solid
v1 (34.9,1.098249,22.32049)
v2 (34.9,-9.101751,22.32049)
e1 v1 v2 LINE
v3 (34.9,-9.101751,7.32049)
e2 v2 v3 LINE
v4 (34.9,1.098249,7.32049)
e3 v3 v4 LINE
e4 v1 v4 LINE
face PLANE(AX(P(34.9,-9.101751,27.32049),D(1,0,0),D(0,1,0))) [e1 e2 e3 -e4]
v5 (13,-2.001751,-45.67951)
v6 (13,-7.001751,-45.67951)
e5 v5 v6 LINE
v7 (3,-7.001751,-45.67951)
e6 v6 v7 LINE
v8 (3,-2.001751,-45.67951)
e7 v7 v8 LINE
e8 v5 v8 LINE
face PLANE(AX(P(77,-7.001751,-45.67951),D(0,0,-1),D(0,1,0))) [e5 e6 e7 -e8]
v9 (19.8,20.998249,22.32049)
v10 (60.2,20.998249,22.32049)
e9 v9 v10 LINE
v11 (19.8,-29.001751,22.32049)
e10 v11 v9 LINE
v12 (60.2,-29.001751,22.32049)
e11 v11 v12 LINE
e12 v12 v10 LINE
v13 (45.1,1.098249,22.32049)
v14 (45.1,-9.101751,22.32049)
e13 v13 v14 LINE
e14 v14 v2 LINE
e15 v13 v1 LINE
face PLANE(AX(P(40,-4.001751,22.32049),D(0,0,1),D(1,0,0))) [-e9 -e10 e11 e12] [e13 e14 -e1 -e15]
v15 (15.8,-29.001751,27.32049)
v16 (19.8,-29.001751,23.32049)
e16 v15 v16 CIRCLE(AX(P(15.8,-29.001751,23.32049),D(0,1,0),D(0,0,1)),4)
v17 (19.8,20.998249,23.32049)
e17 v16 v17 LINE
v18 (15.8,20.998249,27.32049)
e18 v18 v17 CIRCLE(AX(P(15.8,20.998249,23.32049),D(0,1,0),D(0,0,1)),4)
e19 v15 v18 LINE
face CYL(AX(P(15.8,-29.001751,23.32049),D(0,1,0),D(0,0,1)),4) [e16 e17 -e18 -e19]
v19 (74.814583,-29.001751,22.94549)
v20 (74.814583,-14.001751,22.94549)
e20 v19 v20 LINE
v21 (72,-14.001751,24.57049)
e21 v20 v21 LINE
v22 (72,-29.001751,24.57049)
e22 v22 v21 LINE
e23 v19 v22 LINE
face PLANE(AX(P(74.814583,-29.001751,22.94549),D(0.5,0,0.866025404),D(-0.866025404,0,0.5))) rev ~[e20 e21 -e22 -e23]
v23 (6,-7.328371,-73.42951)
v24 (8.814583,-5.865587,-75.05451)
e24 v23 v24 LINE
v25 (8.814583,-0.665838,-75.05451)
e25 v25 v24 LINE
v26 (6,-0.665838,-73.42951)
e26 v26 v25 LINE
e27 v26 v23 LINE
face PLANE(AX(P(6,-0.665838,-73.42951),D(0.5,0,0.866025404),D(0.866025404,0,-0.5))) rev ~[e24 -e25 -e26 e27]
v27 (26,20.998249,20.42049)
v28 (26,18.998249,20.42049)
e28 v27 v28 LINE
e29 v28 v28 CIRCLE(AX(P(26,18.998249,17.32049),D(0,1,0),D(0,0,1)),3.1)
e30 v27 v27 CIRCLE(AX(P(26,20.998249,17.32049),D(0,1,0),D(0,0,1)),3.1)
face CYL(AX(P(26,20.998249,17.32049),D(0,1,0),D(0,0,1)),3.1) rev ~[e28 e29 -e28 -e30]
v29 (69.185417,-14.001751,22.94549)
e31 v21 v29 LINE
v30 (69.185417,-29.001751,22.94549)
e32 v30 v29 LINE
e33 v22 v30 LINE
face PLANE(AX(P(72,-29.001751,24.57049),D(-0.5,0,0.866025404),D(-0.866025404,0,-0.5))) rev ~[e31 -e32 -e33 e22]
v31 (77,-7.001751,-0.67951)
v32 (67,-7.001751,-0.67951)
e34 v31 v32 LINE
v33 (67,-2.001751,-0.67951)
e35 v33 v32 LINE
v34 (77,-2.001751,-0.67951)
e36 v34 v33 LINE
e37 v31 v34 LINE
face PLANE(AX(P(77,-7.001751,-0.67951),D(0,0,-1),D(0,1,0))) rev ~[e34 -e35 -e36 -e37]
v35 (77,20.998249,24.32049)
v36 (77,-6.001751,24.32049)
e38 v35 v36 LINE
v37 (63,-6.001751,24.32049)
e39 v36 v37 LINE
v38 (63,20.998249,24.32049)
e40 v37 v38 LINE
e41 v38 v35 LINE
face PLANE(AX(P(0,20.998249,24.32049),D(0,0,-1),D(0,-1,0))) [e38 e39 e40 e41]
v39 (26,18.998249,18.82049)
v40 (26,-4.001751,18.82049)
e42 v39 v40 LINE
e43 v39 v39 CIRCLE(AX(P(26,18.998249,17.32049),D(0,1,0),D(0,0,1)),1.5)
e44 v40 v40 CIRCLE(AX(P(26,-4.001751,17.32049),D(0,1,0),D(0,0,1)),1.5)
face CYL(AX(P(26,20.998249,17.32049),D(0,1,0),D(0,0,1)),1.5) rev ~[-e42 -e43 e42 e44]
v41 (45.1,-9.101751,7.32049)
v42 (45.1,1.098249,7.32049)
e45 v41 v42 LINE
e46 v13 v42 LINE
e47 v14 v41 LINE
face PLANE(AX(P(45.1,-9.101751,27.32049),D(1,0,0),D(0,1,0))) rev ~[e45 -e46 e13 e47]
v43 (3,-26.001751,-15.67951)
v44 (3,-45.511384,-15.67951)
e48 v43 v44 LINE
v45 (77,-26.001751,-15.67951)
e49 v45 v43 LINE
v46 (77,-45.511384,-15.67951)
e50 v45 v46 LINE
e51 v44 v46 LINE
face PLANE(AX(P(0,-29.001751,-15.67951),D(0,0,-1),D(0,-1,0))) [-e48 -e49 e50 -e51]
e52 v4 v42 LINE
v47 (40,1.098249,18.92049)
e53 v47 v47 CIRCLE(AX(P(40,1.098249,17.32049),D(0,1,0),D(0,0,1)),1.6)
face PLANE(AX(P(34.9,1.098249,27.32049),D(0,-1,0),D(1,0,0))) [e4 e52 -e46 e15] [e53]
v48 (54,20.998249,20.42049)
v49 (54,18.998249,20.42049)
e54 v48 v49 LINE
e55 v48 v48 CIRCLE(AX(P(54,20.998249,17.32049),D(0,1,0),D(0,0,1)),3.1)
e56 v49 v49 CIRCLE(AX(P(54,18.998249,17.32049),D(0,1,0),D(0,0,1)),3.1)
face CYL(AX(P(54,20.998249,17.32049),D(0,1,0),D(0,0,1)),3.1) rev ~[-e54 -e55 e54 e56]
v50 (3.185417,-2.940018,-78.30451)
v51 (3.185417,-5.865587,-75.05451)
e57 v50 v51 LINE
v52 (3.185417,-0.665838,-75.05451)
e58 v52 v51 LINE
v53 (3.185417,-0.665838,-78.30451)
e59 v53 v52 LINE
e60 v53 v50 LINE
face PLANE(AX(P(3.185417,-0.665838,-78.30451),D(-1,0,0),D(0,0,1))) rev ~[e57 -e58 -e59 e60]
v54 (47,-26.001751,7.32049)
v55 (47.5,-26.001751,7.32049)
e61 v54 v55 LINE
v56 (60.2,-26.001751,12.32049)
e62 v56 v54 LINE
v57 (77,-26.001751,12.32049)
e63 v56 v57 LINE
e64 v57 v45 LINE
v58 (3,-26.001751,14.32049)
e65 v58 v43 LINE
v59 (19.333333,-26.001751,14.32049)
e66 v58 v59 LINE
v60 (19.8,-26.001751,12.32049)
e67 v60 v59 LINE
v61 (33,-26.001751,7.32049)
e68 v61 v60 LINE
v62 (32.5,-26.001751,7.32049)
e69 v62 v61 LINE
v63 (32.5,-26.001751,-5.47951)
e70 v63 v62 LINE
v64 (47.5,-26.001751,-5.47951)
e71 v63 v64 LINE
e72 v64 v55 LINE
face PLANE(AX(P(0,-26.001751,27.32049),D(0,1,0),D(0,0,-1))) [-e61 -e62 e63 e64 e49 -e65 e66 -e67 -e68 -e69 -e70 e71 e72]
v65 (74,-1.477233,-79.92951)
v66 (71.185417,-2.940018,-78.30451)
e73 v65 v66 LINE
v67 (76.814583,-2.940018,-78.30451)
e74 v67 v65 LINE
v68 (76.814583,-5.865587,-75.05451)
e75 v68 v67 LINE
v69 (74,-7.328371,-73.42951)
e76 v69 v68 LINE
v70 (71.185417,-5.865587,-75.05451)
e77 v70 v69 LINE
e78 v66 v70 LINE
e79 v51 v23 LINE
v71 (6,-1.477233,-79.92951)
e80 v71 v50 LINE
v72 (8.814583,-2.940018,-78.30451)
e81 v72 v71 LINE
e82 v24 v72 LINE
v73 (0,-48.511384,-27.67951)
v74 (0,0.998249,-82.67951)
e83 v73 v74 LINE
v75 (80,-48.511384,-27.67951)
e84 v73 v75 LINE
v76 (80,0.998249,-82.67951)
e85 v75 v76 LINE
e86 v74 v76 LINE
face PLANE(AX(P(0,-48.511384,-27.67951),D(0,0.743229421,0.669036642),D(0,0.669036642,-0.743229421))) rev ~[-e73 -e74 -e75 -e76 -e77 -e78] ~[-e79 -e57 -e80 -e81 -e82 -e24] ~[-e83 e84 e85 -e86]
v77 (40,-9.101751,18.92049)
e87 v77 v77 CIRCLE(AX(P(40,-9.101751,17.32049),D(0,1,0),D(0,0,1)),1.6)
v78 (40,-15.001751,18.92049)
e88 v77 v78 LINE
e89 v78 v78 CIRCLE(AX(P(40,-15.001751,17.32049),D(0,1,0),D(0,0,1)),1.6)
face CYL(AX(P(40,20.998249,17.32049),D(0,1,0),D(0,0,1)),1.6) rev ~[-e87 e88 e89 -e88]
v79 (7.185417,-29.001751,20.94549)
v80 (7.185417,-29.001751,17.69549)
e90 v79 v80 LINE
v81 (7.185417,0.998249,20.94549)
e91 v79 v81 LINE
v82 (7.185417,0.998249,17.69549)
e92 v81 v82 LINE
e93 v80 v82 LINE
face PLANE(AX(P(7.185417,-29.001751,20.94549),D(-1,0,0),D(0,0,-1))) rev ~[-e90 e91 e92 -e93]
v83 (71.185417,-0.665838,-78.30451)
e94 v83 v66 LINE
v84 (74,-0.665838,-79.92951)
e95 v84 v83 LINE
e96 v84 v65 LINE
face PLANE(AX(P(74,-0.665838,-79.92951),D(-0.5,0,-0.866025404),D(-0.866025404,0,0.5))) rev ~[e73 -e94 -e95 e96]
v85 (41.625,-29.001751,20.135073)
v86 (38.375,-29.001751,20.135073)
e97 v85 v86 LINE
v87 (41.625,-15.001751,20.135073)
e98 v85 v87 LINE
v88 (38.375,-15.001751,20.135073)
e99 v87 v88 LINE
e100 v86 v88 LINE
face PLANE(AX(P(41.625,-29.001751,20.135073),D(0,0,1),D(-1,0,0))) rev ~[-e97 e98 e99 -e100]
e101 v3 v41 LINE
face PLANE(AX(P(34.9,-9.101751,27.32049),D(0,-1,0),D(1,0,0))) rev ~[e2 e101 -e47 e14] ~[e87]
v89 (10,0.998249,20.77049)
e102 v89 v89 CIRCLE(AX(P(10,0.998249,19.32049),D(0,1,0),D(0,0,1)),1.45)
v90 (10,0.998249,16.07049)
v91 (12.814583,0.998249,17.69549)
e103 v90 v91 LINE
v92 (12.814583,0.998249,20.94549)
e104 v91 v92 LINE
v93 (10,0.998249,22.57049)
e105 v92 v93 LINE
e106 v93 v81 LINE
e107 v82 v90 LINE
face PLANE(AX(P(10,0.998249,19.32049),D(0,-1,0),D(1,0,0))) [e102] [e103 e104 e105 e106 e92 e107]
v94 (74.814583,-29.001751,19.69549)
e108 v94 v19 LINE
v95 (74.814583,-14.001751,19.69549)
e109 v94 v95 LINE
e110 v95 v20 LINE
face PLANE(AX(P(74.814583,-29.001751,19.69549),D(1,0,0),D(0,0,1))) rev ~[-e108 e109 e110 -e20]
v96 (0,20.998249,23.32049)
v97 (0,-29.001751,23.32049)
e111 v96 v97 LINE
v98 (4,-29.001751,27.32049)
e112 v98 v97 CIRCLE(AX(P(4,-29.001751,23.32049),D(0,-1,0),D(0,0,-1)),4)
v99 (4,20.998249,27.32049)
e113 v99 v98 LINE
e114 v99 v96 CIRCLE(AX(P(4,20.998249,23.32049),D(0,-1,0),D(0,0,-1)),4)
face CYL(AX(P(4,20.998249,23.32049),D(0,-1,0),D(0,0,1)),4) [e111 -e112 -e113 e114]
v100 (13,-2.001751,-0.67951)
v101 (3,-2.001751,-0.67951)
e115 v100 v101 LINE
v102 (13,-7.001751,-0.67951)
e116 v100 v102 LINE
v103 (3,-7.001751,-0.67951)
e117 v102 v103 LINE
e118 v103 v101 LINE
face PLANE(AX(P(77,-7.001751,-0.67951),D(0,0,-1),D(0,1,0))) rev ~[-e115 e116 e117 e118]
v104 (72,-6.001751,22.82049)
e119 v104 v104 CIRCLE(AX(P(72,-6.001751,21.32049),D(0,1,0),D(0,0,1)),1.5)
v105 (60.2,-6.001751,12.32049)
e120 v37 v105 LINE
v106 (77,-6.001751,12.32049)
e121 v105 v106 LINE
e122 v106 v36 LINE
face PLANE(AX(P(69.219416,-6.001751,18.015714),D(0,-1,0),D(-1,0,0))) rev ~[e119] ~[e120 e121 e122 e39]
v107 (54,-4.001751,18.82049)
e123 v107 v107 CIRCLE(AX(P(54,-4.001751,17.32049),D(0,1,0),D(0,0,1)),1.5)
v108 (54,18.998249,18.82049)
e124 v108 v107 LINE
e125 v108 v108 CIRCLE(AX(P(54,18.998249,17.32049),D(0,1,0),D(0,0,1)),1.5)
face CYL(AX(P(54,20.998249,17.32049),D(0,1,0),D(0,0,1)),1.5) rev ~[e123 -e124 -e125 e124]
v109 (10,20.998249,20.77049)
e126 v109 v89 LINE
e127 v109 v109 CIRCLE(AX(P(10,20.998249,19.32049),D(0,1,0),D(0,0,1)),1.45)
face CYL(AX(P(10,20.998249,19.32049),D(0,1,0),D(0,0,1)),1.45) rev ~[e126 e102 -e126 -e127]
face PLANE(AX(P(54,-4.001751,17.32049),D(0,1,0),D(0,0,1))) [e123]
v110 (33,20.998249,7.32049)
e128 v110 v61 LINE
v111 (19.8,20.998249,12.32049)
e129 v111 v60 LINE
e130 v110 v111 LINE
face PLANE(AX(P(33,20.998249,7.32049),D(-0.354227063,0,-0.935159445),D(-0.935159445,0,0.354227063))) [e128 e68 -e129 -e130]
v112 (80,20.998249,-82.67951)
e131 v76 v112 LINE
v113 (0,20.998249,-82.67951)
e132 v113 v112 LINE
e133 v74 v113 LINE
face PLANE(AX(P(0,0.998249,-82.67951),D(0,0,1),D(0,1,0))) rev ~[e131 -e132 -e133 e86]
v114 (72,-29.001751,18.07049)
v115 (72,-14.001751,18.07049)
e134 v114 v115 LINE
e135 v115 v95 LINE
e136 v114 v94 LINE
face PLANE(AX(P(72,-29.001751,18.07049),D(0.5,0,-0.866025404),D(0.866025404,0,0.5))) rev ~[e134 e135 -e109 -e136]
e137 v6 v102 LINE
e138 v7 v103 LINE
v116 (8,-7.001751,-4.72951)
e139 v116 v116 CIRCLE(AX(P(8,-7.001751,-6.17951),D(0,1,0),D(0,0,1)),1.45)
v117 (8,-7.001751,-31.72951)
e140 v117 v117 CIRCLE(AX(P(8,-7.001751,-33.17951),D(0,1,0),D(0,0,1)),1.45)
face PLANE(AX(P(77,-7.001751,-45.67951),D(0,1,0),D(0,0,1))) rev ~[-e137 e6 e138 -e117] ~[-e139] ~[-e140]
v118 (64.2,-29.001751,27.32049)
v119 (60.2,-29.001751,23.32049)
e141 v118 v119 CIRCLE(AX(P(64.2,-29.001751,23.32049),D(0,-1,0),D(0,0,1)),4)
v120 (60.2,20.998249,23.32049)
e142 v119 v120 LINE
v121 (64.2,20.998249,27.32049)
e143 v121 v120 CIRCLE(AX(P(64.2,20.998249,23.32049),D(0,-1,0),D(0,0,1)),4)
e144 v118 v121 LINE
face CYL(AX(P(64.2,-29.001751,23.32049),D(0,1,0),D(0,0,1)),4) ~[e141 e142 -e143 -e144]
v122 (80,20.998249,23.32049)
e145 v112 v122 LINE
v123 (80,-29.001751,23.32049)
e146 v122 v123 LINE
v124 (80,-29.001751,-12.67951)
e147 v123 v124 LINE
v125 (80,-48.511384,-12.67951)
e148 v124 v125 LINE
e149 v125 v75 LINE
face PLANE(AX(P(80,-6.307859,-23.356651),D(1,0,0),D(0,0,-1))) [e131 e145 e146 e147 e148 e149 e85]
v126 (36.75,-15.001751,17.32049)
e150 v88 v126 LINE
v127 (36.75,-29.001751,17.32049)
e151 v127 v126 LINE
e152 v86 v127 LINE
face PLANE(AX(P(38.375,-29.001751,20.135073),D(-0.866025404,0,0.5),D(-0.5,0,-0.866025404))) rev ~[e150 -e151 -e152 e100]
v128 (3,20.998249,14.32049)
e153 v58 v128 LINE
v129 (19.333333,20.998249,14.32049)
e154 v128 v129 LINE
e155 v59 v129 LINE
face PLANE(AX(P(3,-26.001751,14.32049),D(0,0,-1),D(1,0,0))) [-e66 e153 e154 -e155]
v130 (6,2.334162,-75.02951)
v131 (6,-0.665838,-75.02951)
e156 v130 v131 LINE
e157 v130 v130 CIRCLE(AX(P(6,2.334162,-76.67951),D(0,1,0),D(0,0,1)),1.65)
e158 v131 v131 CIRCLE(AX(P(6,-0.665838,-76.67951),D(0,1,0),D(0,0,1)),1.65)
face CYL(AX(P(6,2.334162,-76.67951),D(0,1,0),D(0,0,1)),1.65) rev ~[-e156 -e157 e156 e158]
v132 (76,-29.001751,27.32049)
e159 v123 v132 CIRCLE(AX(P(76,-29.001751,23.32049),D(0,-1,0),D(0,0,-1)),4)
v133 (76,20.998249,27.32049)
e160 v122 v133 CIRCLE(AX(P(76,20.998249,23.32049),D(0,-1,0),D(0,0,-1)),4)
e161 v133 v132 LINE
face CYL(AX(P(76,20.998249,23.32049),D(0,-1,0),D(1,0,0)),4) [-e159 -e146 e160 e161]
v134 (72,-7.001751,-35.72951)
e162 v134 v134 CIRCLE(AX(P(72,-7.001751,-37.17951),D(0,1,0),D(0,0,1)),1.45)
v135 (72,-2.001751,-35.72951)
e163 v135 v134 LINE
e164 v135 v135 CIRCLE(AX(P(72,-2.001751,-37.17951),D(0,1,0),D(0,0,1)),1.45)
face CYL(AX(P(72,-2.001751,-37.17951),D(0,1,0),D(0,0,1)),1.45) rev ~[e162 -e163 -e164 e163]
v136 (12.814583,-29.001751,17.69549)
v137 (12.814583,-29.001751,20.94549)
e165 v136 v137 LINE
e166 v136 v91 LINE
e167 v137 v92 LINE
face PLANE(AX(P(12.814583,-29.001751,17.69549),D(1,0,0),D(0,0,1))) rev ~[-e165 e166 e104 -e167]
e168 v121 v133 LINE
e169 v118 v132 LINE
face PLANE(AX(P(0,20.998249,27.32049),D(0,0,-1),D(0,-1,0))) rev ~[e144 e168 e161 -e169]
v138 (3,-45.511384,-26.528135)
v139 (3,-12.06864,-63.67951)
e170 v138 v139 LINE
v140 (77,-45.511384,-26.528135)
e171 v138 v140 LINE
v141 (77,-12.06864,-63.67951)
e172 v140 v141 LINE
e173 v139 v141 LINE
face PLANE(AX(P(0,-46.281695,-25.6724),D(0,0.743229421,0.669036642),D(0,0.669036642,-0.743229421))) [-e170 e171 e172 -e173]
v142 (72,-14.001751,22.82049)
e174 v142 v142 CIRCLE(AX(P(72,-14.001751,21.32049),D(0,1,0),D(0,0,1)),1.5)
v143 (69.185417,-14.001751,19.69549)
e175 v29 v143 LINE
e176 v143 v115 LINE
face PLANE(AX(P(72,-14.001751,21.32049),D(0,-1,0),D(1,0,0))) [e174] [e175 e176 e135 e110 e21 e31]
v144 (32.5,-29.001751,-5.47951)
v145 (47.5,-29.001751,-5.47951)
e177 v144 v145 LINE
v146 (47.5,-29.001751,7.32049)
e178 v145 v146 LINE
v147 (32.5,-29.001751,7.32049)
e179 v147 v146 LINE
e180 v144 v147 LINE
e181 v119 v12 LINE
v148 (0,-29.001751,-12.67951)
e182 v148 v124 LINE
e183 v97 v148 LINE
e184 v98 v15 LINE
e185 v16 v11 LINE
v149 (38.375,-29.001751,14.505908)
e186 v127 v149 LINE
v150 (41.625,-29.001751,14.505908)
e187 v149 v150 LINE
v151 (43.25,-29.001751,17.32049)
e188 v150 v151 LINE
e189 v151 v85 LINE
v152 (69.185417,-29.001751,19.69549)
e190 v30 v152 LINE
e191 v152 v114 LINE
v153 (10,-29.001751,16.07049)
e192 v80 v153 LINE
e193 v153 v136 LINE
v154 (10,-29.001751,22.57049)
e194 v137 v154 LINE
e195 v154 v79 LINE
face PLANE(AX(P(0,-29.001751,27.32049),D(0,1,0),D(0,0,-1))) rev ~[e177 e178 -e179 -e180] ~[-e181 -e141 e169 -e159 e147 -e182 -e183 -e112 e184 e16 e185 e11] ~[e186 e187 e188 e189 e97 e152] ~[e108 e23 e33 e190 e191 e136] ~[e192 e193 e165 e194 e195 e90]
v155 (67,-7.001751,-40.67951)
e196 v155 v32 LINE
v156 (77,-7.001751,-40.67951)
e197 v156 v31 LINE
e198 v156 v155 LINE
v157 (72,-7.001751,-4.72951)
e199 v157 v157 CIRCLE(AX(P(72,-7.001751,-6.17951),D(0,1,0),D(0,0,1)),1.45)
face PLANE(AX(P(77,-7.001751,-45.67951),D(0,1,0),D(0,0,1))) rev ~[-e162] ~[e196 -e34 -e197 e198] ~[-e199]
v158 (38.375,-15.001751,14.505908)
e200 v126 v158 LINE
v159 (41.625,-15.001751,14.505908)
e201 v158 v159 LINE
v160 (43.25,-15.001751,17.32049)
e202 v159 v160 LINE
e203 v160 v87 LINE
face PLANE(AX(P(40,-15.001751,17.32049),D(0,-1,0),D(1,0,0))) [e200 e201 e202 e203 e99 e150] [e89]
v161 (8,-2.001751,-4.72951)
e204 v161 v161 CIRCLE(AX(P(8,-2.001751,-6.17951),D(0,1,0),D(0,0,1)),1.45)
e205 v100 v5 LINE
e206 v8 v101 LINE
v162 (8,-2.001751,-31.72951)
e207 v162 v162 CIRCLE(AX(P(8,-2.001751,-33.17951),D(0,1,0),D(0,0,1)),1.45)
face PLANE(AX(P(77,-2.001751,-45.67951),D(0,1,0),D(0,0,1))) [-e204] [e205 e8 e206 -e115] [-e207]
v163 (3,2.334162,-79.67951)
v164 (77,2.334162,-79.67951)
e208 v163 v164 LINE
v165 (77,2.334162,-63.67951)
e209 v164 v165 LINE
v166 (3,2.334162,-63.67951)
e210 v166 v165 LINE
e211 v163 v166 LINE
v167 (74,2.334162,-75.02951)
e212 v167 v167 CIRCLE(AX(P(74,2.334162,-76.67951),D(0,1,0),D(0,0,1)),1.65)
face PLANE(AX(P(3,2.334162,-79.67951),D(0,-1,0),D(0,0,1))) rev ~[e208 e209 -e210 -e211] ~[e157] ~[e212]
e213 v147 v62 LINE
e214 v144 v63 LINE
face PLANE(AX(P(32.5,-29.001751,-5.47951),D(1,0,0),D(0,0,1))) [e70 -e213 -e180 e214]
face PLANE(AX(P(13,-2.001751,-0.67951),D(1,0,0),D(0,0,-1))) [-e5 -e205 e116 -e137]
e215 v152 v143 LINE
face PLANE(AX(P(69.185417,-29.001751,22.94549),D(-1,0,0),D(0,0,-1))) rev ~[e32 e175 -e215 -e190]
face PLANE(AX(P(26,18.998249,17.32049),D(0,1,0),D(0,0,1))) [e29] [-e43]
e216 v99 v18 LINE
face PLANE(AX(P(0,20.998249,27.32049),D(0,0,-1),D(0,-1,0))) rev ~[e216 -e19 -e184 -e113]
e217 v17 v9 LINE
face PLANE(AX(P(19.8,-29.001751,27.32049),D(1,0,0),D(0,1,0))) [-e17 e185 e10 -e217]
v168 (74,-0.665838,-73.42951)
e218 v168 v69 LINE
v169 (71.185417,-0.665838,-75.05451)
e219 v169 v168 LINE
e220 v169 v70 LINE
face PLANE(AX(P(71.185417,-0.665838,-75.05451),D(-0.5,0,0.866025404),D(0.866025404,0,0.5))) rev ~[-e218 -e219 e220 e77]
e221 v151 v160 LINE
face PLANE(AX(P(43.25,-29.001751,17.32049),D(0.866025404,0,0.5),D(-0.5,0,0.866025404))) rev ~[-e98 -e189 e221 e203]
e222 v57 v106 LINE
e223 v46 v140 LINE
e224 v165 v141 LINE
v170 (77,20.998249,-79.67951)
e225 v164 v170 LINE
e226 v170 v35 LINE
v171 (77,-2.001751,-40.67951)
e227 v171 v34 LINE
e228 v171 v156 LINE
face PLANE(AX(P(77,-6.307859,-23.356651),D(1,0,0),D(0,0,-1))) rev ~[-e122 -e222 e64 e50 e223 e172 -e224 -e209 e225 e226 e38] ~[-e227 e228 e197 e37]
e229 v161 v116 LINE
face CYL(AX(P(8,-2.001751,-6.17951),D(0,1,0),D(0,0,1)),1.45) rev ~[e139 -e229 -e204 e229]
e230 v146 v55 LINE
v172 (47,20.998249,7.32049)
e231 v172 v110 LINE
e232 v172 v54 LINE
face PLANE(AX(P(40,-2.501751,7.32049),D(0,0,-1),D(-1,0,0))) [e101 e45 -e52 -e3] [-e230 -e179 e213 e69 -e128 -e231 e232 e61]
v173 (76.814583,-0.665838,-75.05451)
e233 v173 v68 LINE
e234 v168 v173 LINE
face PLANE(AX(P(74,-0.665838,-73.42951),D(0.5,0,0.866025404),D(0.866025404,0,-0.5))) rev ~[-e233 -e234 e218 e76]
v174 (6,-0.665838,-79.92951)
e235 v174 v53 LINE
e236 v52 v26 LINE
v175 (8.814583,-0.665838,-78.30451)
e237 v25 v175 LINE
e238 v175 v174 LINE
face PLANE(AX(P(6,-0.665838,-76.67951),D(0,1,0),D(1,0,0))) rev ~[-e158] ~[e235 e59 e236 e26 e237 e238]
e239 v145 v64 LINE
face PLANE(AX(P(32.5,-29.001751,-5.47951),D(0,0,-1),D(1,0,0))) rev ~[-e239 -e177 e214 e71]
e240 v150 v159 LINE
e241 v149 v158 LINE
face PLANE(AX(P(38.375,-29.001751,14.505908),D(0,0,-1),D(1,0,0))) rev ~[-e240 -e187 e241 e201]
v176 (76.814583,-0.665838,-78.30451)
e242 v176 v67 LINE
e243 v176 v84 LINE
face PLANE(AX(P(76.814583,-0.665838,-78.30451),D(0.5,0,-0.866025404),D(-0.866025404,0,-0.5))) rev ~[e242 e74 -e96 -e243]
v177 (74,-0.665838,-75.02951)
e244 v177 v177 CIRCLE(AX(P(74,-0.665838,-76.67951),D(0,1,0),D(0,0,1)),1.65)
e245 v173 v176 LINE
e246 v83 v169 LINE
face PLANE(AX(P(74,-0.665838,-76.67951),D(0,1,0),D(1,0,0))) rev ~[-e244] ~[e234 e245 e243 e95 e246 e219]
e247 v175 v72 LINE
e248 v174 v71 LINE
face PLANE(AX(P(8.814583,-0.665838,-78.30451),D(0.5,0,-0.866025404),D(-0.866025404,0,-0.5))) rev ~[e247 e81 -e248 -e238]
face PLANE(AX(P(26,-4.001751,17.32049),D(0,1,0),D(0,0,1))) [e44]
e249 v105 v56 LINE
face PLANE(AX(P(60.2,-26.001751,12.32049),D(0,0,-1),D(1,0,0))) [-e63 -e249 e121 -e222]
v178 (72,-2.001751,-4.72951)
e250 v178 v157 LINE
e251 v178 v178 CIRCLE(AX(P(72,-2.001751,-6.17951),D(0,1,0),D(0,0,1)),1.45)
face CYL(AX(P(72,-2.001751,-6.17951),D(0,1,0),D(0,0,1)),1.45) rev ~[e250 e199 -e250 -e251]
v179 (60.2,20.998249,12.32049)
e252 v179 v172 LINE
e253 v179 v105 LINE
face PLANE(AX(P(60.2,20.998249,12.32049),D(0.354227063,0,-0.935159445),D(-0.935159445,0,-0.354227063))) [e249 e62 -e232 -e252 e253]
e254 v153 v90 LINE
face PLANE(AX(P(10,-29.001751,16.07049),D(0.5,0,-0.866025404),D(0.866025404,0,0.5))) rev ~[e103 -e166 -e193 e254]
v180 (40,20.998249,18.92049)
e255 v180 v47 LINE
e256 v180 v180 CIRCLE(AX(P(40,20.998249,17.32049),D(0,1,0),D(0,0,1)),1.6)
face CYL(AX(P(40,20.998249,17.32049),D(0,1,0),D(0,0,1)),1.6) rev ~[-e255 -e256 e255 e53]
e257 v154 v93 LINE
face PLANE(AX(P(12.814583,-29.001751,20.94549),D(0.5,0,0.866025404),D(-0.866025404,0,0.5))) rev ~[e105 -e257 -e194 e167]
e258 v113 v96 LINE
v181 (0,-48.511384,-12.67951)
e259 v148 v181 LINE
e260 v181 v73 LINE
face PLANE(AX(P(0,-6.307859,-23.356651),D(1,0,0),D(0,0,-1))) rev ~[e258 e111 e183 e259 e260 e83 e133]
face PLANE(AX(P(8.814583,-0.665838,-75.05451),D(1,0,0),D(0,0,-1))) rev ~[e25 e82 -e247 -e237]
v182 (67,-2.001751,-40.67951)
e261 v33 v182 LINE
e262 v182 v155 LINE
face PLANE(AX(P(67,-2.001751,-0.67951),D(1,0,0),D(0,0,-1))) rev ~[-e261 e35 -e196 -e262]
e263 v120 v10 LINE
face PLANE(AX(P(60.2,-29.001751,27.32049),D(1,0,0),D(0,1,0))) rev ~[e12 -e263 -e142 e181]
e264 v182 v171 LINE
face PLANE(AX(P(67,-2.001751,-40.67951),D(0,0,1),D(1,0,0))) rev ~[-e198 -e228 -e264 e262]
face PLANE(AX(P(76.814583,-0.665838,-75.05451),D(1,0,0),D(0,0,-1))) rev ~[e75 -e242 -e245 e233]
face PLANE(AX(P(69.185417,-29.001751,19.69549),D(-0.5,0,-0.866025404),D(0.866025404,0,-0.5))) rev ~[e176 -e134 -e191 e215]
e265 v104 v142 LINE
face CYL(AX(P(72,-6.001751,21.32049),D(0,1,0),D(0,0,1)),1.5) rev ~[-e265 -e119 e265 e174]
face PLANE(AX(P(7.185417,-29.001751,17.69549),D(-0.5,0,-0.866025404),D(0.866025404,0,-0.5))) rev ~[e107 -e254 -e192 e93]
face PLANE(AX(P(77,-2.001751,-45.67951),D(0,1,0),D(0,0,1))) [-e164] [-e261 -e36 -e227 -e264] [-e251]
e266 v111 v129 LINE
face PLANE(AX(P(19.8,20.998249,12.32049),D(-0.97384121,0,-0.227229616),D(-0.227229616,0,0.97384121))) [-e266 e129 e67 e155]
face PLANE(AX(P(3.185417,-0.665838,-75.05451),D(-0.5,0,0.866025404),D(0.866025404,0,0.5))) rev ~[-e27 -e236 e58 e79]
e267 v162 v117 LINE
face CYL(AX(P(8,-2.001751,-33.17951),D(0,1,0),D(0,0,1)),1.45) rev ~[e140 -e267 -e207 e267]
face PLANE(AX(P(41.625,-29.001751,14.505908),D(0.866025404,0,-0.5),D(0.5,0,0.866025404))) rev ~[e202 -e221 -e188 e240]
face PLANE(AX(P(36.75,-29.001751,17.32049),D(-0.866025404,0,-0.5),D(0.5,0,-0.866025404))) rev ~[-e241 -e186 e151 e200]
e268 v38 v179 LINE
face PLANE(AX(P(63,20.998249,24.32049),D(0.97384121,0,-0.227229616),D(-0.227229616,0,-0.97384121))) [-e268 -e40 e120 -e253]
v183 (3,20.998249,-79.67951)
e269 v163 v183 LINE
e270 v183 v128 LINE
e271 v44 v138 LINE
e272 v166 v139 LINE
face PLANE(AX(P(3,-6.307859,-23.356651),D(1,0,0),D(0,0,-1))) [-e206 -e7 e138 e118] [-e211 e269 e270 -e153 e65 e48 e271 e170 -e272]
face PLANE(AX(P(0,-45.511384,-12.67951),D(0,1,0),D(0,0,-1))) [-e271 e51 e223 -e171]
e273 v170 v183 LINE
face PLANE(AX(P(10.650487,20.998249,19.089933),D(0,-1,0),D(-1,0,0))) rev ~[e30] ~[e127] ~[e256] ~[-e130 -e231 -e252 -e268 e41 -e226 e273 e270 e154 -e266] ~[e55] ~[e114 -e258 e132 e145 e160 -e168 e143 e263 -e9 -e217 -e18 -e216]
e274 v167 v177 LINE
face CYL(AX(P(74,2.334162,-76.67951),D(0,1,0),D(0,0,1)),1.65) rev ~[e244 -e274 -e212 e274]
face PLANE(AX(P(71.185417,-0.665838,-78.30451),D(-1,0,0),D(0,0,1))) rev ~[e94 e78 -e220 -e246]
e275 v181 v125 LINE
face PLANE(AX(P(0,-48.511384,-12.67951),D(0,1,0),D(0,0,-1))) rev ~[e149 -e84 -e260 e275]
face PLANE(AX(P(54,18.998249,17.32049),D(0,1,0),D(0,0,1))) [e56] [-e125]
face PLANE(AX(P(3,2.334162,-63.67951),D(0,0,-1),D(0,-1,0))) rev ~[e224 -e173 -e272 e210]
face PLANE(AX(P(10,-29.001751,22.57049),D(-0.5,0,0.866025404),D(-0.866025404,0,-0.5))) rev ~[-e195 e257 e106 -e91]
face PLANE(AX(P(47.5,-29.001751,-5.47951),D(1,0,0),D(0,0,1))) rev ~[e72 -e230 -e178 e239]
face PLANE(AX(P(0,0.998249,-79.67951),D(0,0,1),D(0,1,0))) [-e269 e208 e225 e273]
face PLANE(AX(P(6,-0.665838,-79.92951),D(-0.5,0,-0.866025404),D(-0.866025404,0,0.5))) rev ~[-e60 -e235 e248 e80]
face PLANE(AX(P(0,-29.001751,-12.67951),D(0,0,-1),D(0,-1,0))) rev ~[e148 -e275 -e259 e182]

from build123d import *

# Parameters (mm, degrees)
BOSS_EXTRUDE1_DEPTH = 80
SHELL1_T            = -3
SKETCH3_W           = 46
SKETCH3_H           = 47
BOSS_EXTRUDE2_DEPTH = 17
SKETCH4_W           = 10.2
SKETCH4_H           = 10.2
CUT_EXTRUDE1_DEPTH  = 20
SKETCH6_W           = 15
SKETCH6_H           = 12.8
CUT_EXTRUDE2_DEPTH  = 3
SKETCH7_W           = 40.4
SKETCH7_H           = 50
CUT_EXTRUDE3_DEPTH  = 5
FILLET1_R           = 4
CUT_EXTRUDE7_DEPTH  = 47
SKETCH13_R          = 1.5
CUT_EXTRUDE8_DEPTH  = 25
SKETCH14_R          = 3.1
CUT_EXTRUDE9_DEPTH  = 2
SKETCH17_W          = 45
SKETCH17_H          = 5
BOSS_EXTRUDE5_DEPTH = 74
CUT_EXTRUDE10_REACH = 126.093
SKETCH18_W          = 54
SKETCH18_H          = 45
CUT_EXTRUDE11_REACH = 126.093
SKETCH19_R          = 1.45
BOSS_EXTRUDE6_DEPTH = 47
SKETCH22_R          = 1.45
CUT_EXTRUDE12_DEPTH = 135.415364765
BOSS_EXTRUDE7_DEPTH = 74
SKETCH27_R          = 1.65
CUT_EXTRUDE14_DEPTH = 10
CUT_EXTRUDE15_START = -3
CUT_EXTRUDE15_DEPTH = 32
CUT_EXTRUDE16_DEPTH = 30
BOSS_EXTRUDE8_DEPTH = 20
SKETCH31_R          = 1.5
CUT_EXTRUDE17_DEPTH = 123.649786567
CUT_EXTRUDE18_DEPTH = 15
CUT_EXTRUDE19_REACH = 126.093
SKETCH33_W          = 10
SKETCH33_H          = 5
SKETCH34_R          = 1.6
CUT_EXTRUDE20_DEPTH = 135.415364765
CUT_EXTRUDE22_DEPTH = 14


with BuildPart() as part:
    # Sketch2 → Boss-Extrude1 (new body)
    with BuildSketch(Plane(origin=(0, 0, 0), x_dir=(0, 0, -1), z_dir=(1, 0, 0))):
        Polygon((-27.320490368, 20.998248687), (-27.320490368, -29.001751313), (12.679509632, -29.001751313), (12.679509632, -48.511383538), (27.679509632, -48.511383538), (82.679509632, 0.998248687), (82.679509632, 20.998248687), align=None)
    extrude(amount=BOSS_EXTRUDE1_DEPTH)

    # Shell1
    shell1_openings = [part.faces().sort_by_distance(p)[0] for p in [
        (40, 20.998248687, -27.679509632),
    ]]
    offset(amount=SHELL1_T, openings=shell1_openings, kind=Kind.INTERSECTION)

    # Sketch3 → Boss-Extrude2 (add)
    with BuildSketch(Plane(origin=(0, 0, 24.320490368), x_dir=(-1, 0, 0), z_dir=(0, 0, -1))):
        with Locations((-40, -2.501751313)):
            Rectangle(SKETCH3_W, SKETCH3_H)
    extrude(amount=BOSS_EXTRUDE2_DEPTH)

    # Sketch4 → Cut-Extrude1 (cut)
    with BuildSketch(Plane.XY.offset(27.320490368)):
        with Locations((40, -4.001751313)):
            Rectangle(SKETCH4_W, SKETCH4_H)
    extrude(amount=-CUT_EXTRUDE1_DEPTH, mode=Mode.SUBTRACT)

    # Sketch6 → Cut-Extrude2 (cut)
    with BuildSketch(Plane.XZ.offset(29.001751313)):
        with Locations((40, 0.920490368)):
            Rectangle(SKETCH6_W, SKETCH6_H)
    extrude(amount=-CUT_EXTRUDE2_DEPTH, mode=Mode.SUBTRACT)

    # Sketch7 → Cut-Extrude3 (cut)
    with BuildSketch(Plane.XY.offset(27.320490368)):
        with Locations((40, -4.001751313)):
            Rectangle(SKETCH7_W, SKETCH7_H)
    extrude(amount=-CUT_EXTRUDE3_DEPTH, mode=Mode.SUBTRACT)

    # Fillet1
    fillet1_edges = [part.edges().sort_by_distance(p)[0] for p in [
        (80, -4.001751313, 27.320490368),
        (19.8, -4.001751313, 27.320490368),
        (0, -4.001751313, 27.320490368),
        (60.2, -4.001751313, 27.320490368),
    ]]
    fillet(fillet1_edges, radius=FILLET1_R)

    # Sketch12 → Cut-Extrude7 (cut)
    with BuildSketch(Plane(origin=(0, 20.998248687, 0), x_dir=(1, 0, 0), z_dir=(0, 1, 0))):
        Polygon((33, -7.320490368), (19.8, -12.320490368), (17, -24.320490368), (17, -7.320490368), align=None)
        Polygon((47, -7.320490368), (63, -7.320490368), (63, -24.320490368), (60.2, -12.320490368), align=None)
    extrude(amount=-CUT_EXTRUDE7_DEPTH, mode=Mode.SUBTRACT)

    # Sketch13 → Cut-Extrude8 (cut)
    with BuildSketch(Plane(origin=(0, 20.998248687, 0), x_dir=(1, 0, 0), z_dir=(0, 1, 0))):
        with Locations(Location((26, -17.320490368, 0), (0, 0, 270))):
            Circle(SKETCH13_R)
        with Locations(Location((54, -17.320490368, 0), (0, 0, 270))):
            Circle(SKETCH13_R)
    extrude(amount=-CUT_EXTRUDE8_DEPTH, mode=Mode.SUBTRACT)

    # Sketch14 → Cut-Extrude9 (cut)
    with BuildSketch(Plane(origin=(0, 20.998248687, 0), x_dir=(1, 0, 0), z_dir=(0, 1, 0))):
        with Locations(Location((26, -17.320490368, 0), (0, 0, 270))):
            Circle(SKETCH14_R)
        with Locations(Location((54, -17.320490368, 0), (0, 0, 270))):
            Circle(SKETCH14_R)
    extrude(amount=-CUT_EXTRUDE9_DEPTH, mode=Mode.SUBTRACT)

    # Sketch17 → Boss-Extrude5 (add)
    with BuildSketch(Plane.ZY.offset(-77)):
        with Locations((-23.179509632, -4.501751313)):
            Rectangle(SKETCH17_W, SKETCH17_H)
    extrude(amount=BOSS_EXTRUDE5_DEPTH)

    # Sketch18 → Cut-Extrude10 (cut, up to next)
    with BuildSketch(Plane(origin=(0, -2.001751313, 0), x_dir=(1, 0, 0), z_dir=(0, 1, 0)), mode=Mode.PRIVATE) as cut_extrude10_sk1:
        with Locations((40, 23.179509632)):
            Rectangle(SKETCH18_W, SKETCH18_H)
    cut_extrude10_tool1 = extrude(cut_extrude10_sk1.sketch, amount=-CUT_EXTRUDE10_REACH, mode=Mode.PRIVATE) & part.part
    add(cut_extrude10_tool1.solids().sort_by_distance((40, -2.001751, -23.17951))[0], mode=Mode.SUBTRACT)

    # Sketch19 → Cut-Extrude11 (cut, up to next)
    with BuildSketch(Plane(origin=(0, -2.001751313, 0), x_dir=(1, 0, 0), z_dir=(0, 1, 0)), mode=Mode.PRIVATE) as cut_extrude11_sk1:
        with Locations(Location((72, 37.179509632, 0), (0, 0, 270))):
            Circle(SKETCH19_R)
    cut_extrude11_tool1 = extrude(cut_extrude11_sk1.sketch, amount=-CUT_EXTRUDE11_REACH, mode=Mode.PRIVATE) & part.part
    # Sketch19 → Cut-Extrude11 (cut, up to next)
    with BuildSketch(Plane(origin=(0, -2.001751313, 0), x_dir=(1, 0, 0), z_dir=(0, 1, 0)), mode=Mode.PRIVATE) as cut_extrude11_sk2:
        with Locations(Location((72, 6.179509632, 0), (0, 0, 270))):
            Circle(SKETCH19_R)
    cut_extrude11_tool2 = extrude(cut_extrude11_sk2.sketch, amount=-CUT_EXTRUDE11_REACH, mode=Mode.PRIVATE) & part.part
    # Sketch19 → Cut-Extrude11 (cut, up to next)
    with BuildSketch(Plane(origin=(0, -2.001751313, 0), x_dir=(1, 0, 0), z_dir=(0, 1, 0)), mode=Mode.PRIVATE) as cut_extrude11_sk3:
        with Locations(Location((8, 33.179509632, 0), (0, 0, 270))):
            Circle(SKETCH19_R)
    cut_extrude11_tool3 = extrude(cut_extrude11_sk3.sketch, amount=-CUT_EXTRUDE11_REACH, mode=Mode.PRIVATE) & part.part
    # Sketch19 → Cut-Extrude11 (cut, up to next)
    with BuildSketch(Plane(origin=(0, -2.001751313, 0), x_dir=(1, 0, 0), z_dir=(0, 1, 0)), mode=Mode.PRIVATE) as cut_extrude11_sk4:
        with Locations(Location((8, 6.179509632, 0), (0, 0, 270))):
            Circle(SKETCH19_R)
    cut_extrude11_tool4 = extrude(cut_extrude11_sk4.sketch, amount=-CUT_EXTRUDE11_REACH, mode=Mode.PRIVATE) & part.part
    add(cut_extrude11_tool1.solids().sort_by_distance((72, -2.001751, -37.17951))[0], mode=Mode.SUBTRACT)
    add(cut_extrude11_tool2.solids().sort_by_distance((72, -2.001751, -6.17951))[0], mode=Mode.SUBTRACT)
    add(cut_extrude11_tool3.solids().sort_by_distance((8, -2.001751, -33.17951))[0], mode=Mode.SUBTRACT)
    add(cut_extrude11_tool4.solids().sort_by_distance((8, -2.001751, -6.17951))[0], mode=Mode.SUBTRACT)

    # Sketch21 → Boss-Extrude6 (add)
    with BuildSketch(Plane(origin=(0, -26.001751313, 0), x_dir=(1, 0, 0), z_dir=(0, 1, 0))):
        Polygon((3, -24.320490368), (3, -14.320490368), (19.333333333, -14.320490368), (17, -24.320490368), align=None)
    extrude(amount=BOSS_EXTRUDE6_DEPTH)

    # Sketch22 → Cut-Extrude12 (cut, through all)
    with BuildSketch(Plane(origin=(0, 20.998248687, 0), x_dir=(1, 0, 0), z_dir=(0, 1, 0))):
        with Locations(Location((10, -19.320490368, 0), (0, 0, 270))):
            Circle(SKETCH22_R)
    extrude(amount=-CUT_EXTRUDE12_DEPTH, mode=Mode.SUBTRACT)

    # Sketch26 → Boss-Extrude7 (add)
    with BuildSketch(Plane(origin=(3, 0, 0), x_dir=(0, 0, -1), z_dir=(1, 0, 0))):
        Polygon((79.679509632, 2.334161996), (63.679509632, 2.334161996), (63.679509632, -12.068640106), align=None)
    extrude(amount=BOSS_EXTRUDE7_DEPTH)

    # Sketch27 → Cut-Extrude14 (cut)
    with BuildSketch(Plane(origin=(0, 2.334161996, 0), x_dir=(1, 0, 0), z_dir=(0, 1, 0))):
        with Locations(Location((6, 76.679509632, 0), (0, 0, 270))):
            Circle(SKETCH27_R)
        with Locations(Location((74, 76.679509632, 0), (0, 0, 270))):
            Circle(SKETCH27_R)
    extrude(amount=-CUT_EXTRUDE14_DEPTH, mode=Mode.SUBTRACT)

    # Sketch28 → Cut-Extrude15 (cut)
    with BuildSketch(Plane(origin=(0, 2.334161996, 0), x_dir=(1, 0, 0), z_dir=(0, 1, 0)).offset(CUT_EXTRUDE15_START)):
        Polygon((74, 79.929509632), (71.185417438, 78.304509632), (71.185417438, 75.054509632), (74, 73.429509632), (76.814582562, 75.054509632), (76.814582562, 78.304509632), align=None)
        Polygon((6, 73.429509632), (8.814582562, 75.054509632), (8.814582562, 78.304509632), (6, 79.929509632), (3.185417438, 78.304509632), (3.185417438, 75.054509632), align=None)
    extrude(amount=-CUT_EXTRUDE15_DEPTH, mode=Mode.SUBTRACT)

    # Sketch29 → Cut-Extrude16 (cut)
    with BuildSketch(Plane.XZ.offset(29.001751313)):
        Polygon((7.185417438, 17.695490368), (10, 16.070490368), (12.814582562, 17.695490368), (12.814582562, 20.945490368), (10, 22.570490368), (7.185417438, 20.945490368), align=None)
    extrude(amount=-CUT_EXTRUDE16_DEPTH, mode=Mode.SUBTRACT)

    # Sketch30 → Boss-Extrude8 (add)
    with BuildSketch(Plane(origin=(0, -26.001751313, 0), x_dir=(1, 0, 0), z_dir=(0, 1, 0))):
        Polygon((77, -24.320490368), (63, -24.320490368), (60.2, -12.320490368), (77, -12.320490368), align=None)
    extrude(amount=BOSS_EXTRUDE8_DEPTH)

    # Sketch31 → Cut-Extrude17 (cut, through all)
    with BuildSketch(Plane(origin=(0, -6.001751313, 0), x_dir=(1, 0, 0), z_dir=(0, 1, 0))):
        with Locations(Location((72, -21.320490368, 0), (0, 0, 270))):
            Circle(SKETCH31_R)
    extrude(amount=-CUT_EXTRUDE17_DEPTH, mode=Mode.SUBTRACT)

    # Sketch32 → Cut-Extrude18 (cut)
    with BuildSketch(Plane.XZ.offset(29.001751313)):
        Polygon((72, 24.570490368), (69.185417438, 22.945490368), (69.185417438, 19.695490368), (72, 18.070490368), (74.814582562, 19.695490368), (74.814582562, 22.945490368), align=None)
    extrude(amount=-CUT_EXTRUDE18_DEPTH, mode=Mode.SUBTRACT)

    # Sketch33 → Cut-Extrude19 (cut, up to next)
    with BuildSketch(Plane(origin=(0, -2.001751313, 0), x_dir=(1, 0, 0), z_dir=(0, 1, 0)), mode=Mode.PRIVATE) as cut_extrude19_sk1:
        with Locations((72, 43.179509632)):
            Rectangle(SKETCH33_W, SKETCH33_H)
    cut_extrude19_tool1 = extrude(cut_extrude19_sk1.sketch, amount=-CUT_EXTRUDE19_REACH, mode=Mode.PRIVATE) & part.part
    add(cut_extrude19_tool1.solids().sort_by_distance((72, -2.001751, -43.17951))[0], mode=Mode.SUBTRACT)

    # Sketch34 → Cut-Extrude20 (cut, through all)
    with BuildSketch(Plane(origin=(0, 20.998248687, 0), x_dir=(1, 0, 0), z_dir=(0, 1, 0))):
        with Locations(Location((40, -17.320490368, 0), (0, 0, 270))):
            Circle(SKETCH34_R)
    extrude(amount=-CUT_EXTRUDE20_DEPTH, mode=Mode.SUBTRACT)

    # Sketch36 → Cut-Extrude22 (cut)
    with BuildSketch(Plane.XZ.offset(29.001751313)):
        Polygon((38.375, 20.13507293), (36.75, 17.320490368), (38.375, 14.505907805), (41.625, 14.505907805), (43.25, 17.320490368), (41.625, 20.13507293), align=None)
    extrude(amount=-CUT_EXTRUDE22_DEPTH, mode=Mode.SUBTRACT)


solid = part.part
